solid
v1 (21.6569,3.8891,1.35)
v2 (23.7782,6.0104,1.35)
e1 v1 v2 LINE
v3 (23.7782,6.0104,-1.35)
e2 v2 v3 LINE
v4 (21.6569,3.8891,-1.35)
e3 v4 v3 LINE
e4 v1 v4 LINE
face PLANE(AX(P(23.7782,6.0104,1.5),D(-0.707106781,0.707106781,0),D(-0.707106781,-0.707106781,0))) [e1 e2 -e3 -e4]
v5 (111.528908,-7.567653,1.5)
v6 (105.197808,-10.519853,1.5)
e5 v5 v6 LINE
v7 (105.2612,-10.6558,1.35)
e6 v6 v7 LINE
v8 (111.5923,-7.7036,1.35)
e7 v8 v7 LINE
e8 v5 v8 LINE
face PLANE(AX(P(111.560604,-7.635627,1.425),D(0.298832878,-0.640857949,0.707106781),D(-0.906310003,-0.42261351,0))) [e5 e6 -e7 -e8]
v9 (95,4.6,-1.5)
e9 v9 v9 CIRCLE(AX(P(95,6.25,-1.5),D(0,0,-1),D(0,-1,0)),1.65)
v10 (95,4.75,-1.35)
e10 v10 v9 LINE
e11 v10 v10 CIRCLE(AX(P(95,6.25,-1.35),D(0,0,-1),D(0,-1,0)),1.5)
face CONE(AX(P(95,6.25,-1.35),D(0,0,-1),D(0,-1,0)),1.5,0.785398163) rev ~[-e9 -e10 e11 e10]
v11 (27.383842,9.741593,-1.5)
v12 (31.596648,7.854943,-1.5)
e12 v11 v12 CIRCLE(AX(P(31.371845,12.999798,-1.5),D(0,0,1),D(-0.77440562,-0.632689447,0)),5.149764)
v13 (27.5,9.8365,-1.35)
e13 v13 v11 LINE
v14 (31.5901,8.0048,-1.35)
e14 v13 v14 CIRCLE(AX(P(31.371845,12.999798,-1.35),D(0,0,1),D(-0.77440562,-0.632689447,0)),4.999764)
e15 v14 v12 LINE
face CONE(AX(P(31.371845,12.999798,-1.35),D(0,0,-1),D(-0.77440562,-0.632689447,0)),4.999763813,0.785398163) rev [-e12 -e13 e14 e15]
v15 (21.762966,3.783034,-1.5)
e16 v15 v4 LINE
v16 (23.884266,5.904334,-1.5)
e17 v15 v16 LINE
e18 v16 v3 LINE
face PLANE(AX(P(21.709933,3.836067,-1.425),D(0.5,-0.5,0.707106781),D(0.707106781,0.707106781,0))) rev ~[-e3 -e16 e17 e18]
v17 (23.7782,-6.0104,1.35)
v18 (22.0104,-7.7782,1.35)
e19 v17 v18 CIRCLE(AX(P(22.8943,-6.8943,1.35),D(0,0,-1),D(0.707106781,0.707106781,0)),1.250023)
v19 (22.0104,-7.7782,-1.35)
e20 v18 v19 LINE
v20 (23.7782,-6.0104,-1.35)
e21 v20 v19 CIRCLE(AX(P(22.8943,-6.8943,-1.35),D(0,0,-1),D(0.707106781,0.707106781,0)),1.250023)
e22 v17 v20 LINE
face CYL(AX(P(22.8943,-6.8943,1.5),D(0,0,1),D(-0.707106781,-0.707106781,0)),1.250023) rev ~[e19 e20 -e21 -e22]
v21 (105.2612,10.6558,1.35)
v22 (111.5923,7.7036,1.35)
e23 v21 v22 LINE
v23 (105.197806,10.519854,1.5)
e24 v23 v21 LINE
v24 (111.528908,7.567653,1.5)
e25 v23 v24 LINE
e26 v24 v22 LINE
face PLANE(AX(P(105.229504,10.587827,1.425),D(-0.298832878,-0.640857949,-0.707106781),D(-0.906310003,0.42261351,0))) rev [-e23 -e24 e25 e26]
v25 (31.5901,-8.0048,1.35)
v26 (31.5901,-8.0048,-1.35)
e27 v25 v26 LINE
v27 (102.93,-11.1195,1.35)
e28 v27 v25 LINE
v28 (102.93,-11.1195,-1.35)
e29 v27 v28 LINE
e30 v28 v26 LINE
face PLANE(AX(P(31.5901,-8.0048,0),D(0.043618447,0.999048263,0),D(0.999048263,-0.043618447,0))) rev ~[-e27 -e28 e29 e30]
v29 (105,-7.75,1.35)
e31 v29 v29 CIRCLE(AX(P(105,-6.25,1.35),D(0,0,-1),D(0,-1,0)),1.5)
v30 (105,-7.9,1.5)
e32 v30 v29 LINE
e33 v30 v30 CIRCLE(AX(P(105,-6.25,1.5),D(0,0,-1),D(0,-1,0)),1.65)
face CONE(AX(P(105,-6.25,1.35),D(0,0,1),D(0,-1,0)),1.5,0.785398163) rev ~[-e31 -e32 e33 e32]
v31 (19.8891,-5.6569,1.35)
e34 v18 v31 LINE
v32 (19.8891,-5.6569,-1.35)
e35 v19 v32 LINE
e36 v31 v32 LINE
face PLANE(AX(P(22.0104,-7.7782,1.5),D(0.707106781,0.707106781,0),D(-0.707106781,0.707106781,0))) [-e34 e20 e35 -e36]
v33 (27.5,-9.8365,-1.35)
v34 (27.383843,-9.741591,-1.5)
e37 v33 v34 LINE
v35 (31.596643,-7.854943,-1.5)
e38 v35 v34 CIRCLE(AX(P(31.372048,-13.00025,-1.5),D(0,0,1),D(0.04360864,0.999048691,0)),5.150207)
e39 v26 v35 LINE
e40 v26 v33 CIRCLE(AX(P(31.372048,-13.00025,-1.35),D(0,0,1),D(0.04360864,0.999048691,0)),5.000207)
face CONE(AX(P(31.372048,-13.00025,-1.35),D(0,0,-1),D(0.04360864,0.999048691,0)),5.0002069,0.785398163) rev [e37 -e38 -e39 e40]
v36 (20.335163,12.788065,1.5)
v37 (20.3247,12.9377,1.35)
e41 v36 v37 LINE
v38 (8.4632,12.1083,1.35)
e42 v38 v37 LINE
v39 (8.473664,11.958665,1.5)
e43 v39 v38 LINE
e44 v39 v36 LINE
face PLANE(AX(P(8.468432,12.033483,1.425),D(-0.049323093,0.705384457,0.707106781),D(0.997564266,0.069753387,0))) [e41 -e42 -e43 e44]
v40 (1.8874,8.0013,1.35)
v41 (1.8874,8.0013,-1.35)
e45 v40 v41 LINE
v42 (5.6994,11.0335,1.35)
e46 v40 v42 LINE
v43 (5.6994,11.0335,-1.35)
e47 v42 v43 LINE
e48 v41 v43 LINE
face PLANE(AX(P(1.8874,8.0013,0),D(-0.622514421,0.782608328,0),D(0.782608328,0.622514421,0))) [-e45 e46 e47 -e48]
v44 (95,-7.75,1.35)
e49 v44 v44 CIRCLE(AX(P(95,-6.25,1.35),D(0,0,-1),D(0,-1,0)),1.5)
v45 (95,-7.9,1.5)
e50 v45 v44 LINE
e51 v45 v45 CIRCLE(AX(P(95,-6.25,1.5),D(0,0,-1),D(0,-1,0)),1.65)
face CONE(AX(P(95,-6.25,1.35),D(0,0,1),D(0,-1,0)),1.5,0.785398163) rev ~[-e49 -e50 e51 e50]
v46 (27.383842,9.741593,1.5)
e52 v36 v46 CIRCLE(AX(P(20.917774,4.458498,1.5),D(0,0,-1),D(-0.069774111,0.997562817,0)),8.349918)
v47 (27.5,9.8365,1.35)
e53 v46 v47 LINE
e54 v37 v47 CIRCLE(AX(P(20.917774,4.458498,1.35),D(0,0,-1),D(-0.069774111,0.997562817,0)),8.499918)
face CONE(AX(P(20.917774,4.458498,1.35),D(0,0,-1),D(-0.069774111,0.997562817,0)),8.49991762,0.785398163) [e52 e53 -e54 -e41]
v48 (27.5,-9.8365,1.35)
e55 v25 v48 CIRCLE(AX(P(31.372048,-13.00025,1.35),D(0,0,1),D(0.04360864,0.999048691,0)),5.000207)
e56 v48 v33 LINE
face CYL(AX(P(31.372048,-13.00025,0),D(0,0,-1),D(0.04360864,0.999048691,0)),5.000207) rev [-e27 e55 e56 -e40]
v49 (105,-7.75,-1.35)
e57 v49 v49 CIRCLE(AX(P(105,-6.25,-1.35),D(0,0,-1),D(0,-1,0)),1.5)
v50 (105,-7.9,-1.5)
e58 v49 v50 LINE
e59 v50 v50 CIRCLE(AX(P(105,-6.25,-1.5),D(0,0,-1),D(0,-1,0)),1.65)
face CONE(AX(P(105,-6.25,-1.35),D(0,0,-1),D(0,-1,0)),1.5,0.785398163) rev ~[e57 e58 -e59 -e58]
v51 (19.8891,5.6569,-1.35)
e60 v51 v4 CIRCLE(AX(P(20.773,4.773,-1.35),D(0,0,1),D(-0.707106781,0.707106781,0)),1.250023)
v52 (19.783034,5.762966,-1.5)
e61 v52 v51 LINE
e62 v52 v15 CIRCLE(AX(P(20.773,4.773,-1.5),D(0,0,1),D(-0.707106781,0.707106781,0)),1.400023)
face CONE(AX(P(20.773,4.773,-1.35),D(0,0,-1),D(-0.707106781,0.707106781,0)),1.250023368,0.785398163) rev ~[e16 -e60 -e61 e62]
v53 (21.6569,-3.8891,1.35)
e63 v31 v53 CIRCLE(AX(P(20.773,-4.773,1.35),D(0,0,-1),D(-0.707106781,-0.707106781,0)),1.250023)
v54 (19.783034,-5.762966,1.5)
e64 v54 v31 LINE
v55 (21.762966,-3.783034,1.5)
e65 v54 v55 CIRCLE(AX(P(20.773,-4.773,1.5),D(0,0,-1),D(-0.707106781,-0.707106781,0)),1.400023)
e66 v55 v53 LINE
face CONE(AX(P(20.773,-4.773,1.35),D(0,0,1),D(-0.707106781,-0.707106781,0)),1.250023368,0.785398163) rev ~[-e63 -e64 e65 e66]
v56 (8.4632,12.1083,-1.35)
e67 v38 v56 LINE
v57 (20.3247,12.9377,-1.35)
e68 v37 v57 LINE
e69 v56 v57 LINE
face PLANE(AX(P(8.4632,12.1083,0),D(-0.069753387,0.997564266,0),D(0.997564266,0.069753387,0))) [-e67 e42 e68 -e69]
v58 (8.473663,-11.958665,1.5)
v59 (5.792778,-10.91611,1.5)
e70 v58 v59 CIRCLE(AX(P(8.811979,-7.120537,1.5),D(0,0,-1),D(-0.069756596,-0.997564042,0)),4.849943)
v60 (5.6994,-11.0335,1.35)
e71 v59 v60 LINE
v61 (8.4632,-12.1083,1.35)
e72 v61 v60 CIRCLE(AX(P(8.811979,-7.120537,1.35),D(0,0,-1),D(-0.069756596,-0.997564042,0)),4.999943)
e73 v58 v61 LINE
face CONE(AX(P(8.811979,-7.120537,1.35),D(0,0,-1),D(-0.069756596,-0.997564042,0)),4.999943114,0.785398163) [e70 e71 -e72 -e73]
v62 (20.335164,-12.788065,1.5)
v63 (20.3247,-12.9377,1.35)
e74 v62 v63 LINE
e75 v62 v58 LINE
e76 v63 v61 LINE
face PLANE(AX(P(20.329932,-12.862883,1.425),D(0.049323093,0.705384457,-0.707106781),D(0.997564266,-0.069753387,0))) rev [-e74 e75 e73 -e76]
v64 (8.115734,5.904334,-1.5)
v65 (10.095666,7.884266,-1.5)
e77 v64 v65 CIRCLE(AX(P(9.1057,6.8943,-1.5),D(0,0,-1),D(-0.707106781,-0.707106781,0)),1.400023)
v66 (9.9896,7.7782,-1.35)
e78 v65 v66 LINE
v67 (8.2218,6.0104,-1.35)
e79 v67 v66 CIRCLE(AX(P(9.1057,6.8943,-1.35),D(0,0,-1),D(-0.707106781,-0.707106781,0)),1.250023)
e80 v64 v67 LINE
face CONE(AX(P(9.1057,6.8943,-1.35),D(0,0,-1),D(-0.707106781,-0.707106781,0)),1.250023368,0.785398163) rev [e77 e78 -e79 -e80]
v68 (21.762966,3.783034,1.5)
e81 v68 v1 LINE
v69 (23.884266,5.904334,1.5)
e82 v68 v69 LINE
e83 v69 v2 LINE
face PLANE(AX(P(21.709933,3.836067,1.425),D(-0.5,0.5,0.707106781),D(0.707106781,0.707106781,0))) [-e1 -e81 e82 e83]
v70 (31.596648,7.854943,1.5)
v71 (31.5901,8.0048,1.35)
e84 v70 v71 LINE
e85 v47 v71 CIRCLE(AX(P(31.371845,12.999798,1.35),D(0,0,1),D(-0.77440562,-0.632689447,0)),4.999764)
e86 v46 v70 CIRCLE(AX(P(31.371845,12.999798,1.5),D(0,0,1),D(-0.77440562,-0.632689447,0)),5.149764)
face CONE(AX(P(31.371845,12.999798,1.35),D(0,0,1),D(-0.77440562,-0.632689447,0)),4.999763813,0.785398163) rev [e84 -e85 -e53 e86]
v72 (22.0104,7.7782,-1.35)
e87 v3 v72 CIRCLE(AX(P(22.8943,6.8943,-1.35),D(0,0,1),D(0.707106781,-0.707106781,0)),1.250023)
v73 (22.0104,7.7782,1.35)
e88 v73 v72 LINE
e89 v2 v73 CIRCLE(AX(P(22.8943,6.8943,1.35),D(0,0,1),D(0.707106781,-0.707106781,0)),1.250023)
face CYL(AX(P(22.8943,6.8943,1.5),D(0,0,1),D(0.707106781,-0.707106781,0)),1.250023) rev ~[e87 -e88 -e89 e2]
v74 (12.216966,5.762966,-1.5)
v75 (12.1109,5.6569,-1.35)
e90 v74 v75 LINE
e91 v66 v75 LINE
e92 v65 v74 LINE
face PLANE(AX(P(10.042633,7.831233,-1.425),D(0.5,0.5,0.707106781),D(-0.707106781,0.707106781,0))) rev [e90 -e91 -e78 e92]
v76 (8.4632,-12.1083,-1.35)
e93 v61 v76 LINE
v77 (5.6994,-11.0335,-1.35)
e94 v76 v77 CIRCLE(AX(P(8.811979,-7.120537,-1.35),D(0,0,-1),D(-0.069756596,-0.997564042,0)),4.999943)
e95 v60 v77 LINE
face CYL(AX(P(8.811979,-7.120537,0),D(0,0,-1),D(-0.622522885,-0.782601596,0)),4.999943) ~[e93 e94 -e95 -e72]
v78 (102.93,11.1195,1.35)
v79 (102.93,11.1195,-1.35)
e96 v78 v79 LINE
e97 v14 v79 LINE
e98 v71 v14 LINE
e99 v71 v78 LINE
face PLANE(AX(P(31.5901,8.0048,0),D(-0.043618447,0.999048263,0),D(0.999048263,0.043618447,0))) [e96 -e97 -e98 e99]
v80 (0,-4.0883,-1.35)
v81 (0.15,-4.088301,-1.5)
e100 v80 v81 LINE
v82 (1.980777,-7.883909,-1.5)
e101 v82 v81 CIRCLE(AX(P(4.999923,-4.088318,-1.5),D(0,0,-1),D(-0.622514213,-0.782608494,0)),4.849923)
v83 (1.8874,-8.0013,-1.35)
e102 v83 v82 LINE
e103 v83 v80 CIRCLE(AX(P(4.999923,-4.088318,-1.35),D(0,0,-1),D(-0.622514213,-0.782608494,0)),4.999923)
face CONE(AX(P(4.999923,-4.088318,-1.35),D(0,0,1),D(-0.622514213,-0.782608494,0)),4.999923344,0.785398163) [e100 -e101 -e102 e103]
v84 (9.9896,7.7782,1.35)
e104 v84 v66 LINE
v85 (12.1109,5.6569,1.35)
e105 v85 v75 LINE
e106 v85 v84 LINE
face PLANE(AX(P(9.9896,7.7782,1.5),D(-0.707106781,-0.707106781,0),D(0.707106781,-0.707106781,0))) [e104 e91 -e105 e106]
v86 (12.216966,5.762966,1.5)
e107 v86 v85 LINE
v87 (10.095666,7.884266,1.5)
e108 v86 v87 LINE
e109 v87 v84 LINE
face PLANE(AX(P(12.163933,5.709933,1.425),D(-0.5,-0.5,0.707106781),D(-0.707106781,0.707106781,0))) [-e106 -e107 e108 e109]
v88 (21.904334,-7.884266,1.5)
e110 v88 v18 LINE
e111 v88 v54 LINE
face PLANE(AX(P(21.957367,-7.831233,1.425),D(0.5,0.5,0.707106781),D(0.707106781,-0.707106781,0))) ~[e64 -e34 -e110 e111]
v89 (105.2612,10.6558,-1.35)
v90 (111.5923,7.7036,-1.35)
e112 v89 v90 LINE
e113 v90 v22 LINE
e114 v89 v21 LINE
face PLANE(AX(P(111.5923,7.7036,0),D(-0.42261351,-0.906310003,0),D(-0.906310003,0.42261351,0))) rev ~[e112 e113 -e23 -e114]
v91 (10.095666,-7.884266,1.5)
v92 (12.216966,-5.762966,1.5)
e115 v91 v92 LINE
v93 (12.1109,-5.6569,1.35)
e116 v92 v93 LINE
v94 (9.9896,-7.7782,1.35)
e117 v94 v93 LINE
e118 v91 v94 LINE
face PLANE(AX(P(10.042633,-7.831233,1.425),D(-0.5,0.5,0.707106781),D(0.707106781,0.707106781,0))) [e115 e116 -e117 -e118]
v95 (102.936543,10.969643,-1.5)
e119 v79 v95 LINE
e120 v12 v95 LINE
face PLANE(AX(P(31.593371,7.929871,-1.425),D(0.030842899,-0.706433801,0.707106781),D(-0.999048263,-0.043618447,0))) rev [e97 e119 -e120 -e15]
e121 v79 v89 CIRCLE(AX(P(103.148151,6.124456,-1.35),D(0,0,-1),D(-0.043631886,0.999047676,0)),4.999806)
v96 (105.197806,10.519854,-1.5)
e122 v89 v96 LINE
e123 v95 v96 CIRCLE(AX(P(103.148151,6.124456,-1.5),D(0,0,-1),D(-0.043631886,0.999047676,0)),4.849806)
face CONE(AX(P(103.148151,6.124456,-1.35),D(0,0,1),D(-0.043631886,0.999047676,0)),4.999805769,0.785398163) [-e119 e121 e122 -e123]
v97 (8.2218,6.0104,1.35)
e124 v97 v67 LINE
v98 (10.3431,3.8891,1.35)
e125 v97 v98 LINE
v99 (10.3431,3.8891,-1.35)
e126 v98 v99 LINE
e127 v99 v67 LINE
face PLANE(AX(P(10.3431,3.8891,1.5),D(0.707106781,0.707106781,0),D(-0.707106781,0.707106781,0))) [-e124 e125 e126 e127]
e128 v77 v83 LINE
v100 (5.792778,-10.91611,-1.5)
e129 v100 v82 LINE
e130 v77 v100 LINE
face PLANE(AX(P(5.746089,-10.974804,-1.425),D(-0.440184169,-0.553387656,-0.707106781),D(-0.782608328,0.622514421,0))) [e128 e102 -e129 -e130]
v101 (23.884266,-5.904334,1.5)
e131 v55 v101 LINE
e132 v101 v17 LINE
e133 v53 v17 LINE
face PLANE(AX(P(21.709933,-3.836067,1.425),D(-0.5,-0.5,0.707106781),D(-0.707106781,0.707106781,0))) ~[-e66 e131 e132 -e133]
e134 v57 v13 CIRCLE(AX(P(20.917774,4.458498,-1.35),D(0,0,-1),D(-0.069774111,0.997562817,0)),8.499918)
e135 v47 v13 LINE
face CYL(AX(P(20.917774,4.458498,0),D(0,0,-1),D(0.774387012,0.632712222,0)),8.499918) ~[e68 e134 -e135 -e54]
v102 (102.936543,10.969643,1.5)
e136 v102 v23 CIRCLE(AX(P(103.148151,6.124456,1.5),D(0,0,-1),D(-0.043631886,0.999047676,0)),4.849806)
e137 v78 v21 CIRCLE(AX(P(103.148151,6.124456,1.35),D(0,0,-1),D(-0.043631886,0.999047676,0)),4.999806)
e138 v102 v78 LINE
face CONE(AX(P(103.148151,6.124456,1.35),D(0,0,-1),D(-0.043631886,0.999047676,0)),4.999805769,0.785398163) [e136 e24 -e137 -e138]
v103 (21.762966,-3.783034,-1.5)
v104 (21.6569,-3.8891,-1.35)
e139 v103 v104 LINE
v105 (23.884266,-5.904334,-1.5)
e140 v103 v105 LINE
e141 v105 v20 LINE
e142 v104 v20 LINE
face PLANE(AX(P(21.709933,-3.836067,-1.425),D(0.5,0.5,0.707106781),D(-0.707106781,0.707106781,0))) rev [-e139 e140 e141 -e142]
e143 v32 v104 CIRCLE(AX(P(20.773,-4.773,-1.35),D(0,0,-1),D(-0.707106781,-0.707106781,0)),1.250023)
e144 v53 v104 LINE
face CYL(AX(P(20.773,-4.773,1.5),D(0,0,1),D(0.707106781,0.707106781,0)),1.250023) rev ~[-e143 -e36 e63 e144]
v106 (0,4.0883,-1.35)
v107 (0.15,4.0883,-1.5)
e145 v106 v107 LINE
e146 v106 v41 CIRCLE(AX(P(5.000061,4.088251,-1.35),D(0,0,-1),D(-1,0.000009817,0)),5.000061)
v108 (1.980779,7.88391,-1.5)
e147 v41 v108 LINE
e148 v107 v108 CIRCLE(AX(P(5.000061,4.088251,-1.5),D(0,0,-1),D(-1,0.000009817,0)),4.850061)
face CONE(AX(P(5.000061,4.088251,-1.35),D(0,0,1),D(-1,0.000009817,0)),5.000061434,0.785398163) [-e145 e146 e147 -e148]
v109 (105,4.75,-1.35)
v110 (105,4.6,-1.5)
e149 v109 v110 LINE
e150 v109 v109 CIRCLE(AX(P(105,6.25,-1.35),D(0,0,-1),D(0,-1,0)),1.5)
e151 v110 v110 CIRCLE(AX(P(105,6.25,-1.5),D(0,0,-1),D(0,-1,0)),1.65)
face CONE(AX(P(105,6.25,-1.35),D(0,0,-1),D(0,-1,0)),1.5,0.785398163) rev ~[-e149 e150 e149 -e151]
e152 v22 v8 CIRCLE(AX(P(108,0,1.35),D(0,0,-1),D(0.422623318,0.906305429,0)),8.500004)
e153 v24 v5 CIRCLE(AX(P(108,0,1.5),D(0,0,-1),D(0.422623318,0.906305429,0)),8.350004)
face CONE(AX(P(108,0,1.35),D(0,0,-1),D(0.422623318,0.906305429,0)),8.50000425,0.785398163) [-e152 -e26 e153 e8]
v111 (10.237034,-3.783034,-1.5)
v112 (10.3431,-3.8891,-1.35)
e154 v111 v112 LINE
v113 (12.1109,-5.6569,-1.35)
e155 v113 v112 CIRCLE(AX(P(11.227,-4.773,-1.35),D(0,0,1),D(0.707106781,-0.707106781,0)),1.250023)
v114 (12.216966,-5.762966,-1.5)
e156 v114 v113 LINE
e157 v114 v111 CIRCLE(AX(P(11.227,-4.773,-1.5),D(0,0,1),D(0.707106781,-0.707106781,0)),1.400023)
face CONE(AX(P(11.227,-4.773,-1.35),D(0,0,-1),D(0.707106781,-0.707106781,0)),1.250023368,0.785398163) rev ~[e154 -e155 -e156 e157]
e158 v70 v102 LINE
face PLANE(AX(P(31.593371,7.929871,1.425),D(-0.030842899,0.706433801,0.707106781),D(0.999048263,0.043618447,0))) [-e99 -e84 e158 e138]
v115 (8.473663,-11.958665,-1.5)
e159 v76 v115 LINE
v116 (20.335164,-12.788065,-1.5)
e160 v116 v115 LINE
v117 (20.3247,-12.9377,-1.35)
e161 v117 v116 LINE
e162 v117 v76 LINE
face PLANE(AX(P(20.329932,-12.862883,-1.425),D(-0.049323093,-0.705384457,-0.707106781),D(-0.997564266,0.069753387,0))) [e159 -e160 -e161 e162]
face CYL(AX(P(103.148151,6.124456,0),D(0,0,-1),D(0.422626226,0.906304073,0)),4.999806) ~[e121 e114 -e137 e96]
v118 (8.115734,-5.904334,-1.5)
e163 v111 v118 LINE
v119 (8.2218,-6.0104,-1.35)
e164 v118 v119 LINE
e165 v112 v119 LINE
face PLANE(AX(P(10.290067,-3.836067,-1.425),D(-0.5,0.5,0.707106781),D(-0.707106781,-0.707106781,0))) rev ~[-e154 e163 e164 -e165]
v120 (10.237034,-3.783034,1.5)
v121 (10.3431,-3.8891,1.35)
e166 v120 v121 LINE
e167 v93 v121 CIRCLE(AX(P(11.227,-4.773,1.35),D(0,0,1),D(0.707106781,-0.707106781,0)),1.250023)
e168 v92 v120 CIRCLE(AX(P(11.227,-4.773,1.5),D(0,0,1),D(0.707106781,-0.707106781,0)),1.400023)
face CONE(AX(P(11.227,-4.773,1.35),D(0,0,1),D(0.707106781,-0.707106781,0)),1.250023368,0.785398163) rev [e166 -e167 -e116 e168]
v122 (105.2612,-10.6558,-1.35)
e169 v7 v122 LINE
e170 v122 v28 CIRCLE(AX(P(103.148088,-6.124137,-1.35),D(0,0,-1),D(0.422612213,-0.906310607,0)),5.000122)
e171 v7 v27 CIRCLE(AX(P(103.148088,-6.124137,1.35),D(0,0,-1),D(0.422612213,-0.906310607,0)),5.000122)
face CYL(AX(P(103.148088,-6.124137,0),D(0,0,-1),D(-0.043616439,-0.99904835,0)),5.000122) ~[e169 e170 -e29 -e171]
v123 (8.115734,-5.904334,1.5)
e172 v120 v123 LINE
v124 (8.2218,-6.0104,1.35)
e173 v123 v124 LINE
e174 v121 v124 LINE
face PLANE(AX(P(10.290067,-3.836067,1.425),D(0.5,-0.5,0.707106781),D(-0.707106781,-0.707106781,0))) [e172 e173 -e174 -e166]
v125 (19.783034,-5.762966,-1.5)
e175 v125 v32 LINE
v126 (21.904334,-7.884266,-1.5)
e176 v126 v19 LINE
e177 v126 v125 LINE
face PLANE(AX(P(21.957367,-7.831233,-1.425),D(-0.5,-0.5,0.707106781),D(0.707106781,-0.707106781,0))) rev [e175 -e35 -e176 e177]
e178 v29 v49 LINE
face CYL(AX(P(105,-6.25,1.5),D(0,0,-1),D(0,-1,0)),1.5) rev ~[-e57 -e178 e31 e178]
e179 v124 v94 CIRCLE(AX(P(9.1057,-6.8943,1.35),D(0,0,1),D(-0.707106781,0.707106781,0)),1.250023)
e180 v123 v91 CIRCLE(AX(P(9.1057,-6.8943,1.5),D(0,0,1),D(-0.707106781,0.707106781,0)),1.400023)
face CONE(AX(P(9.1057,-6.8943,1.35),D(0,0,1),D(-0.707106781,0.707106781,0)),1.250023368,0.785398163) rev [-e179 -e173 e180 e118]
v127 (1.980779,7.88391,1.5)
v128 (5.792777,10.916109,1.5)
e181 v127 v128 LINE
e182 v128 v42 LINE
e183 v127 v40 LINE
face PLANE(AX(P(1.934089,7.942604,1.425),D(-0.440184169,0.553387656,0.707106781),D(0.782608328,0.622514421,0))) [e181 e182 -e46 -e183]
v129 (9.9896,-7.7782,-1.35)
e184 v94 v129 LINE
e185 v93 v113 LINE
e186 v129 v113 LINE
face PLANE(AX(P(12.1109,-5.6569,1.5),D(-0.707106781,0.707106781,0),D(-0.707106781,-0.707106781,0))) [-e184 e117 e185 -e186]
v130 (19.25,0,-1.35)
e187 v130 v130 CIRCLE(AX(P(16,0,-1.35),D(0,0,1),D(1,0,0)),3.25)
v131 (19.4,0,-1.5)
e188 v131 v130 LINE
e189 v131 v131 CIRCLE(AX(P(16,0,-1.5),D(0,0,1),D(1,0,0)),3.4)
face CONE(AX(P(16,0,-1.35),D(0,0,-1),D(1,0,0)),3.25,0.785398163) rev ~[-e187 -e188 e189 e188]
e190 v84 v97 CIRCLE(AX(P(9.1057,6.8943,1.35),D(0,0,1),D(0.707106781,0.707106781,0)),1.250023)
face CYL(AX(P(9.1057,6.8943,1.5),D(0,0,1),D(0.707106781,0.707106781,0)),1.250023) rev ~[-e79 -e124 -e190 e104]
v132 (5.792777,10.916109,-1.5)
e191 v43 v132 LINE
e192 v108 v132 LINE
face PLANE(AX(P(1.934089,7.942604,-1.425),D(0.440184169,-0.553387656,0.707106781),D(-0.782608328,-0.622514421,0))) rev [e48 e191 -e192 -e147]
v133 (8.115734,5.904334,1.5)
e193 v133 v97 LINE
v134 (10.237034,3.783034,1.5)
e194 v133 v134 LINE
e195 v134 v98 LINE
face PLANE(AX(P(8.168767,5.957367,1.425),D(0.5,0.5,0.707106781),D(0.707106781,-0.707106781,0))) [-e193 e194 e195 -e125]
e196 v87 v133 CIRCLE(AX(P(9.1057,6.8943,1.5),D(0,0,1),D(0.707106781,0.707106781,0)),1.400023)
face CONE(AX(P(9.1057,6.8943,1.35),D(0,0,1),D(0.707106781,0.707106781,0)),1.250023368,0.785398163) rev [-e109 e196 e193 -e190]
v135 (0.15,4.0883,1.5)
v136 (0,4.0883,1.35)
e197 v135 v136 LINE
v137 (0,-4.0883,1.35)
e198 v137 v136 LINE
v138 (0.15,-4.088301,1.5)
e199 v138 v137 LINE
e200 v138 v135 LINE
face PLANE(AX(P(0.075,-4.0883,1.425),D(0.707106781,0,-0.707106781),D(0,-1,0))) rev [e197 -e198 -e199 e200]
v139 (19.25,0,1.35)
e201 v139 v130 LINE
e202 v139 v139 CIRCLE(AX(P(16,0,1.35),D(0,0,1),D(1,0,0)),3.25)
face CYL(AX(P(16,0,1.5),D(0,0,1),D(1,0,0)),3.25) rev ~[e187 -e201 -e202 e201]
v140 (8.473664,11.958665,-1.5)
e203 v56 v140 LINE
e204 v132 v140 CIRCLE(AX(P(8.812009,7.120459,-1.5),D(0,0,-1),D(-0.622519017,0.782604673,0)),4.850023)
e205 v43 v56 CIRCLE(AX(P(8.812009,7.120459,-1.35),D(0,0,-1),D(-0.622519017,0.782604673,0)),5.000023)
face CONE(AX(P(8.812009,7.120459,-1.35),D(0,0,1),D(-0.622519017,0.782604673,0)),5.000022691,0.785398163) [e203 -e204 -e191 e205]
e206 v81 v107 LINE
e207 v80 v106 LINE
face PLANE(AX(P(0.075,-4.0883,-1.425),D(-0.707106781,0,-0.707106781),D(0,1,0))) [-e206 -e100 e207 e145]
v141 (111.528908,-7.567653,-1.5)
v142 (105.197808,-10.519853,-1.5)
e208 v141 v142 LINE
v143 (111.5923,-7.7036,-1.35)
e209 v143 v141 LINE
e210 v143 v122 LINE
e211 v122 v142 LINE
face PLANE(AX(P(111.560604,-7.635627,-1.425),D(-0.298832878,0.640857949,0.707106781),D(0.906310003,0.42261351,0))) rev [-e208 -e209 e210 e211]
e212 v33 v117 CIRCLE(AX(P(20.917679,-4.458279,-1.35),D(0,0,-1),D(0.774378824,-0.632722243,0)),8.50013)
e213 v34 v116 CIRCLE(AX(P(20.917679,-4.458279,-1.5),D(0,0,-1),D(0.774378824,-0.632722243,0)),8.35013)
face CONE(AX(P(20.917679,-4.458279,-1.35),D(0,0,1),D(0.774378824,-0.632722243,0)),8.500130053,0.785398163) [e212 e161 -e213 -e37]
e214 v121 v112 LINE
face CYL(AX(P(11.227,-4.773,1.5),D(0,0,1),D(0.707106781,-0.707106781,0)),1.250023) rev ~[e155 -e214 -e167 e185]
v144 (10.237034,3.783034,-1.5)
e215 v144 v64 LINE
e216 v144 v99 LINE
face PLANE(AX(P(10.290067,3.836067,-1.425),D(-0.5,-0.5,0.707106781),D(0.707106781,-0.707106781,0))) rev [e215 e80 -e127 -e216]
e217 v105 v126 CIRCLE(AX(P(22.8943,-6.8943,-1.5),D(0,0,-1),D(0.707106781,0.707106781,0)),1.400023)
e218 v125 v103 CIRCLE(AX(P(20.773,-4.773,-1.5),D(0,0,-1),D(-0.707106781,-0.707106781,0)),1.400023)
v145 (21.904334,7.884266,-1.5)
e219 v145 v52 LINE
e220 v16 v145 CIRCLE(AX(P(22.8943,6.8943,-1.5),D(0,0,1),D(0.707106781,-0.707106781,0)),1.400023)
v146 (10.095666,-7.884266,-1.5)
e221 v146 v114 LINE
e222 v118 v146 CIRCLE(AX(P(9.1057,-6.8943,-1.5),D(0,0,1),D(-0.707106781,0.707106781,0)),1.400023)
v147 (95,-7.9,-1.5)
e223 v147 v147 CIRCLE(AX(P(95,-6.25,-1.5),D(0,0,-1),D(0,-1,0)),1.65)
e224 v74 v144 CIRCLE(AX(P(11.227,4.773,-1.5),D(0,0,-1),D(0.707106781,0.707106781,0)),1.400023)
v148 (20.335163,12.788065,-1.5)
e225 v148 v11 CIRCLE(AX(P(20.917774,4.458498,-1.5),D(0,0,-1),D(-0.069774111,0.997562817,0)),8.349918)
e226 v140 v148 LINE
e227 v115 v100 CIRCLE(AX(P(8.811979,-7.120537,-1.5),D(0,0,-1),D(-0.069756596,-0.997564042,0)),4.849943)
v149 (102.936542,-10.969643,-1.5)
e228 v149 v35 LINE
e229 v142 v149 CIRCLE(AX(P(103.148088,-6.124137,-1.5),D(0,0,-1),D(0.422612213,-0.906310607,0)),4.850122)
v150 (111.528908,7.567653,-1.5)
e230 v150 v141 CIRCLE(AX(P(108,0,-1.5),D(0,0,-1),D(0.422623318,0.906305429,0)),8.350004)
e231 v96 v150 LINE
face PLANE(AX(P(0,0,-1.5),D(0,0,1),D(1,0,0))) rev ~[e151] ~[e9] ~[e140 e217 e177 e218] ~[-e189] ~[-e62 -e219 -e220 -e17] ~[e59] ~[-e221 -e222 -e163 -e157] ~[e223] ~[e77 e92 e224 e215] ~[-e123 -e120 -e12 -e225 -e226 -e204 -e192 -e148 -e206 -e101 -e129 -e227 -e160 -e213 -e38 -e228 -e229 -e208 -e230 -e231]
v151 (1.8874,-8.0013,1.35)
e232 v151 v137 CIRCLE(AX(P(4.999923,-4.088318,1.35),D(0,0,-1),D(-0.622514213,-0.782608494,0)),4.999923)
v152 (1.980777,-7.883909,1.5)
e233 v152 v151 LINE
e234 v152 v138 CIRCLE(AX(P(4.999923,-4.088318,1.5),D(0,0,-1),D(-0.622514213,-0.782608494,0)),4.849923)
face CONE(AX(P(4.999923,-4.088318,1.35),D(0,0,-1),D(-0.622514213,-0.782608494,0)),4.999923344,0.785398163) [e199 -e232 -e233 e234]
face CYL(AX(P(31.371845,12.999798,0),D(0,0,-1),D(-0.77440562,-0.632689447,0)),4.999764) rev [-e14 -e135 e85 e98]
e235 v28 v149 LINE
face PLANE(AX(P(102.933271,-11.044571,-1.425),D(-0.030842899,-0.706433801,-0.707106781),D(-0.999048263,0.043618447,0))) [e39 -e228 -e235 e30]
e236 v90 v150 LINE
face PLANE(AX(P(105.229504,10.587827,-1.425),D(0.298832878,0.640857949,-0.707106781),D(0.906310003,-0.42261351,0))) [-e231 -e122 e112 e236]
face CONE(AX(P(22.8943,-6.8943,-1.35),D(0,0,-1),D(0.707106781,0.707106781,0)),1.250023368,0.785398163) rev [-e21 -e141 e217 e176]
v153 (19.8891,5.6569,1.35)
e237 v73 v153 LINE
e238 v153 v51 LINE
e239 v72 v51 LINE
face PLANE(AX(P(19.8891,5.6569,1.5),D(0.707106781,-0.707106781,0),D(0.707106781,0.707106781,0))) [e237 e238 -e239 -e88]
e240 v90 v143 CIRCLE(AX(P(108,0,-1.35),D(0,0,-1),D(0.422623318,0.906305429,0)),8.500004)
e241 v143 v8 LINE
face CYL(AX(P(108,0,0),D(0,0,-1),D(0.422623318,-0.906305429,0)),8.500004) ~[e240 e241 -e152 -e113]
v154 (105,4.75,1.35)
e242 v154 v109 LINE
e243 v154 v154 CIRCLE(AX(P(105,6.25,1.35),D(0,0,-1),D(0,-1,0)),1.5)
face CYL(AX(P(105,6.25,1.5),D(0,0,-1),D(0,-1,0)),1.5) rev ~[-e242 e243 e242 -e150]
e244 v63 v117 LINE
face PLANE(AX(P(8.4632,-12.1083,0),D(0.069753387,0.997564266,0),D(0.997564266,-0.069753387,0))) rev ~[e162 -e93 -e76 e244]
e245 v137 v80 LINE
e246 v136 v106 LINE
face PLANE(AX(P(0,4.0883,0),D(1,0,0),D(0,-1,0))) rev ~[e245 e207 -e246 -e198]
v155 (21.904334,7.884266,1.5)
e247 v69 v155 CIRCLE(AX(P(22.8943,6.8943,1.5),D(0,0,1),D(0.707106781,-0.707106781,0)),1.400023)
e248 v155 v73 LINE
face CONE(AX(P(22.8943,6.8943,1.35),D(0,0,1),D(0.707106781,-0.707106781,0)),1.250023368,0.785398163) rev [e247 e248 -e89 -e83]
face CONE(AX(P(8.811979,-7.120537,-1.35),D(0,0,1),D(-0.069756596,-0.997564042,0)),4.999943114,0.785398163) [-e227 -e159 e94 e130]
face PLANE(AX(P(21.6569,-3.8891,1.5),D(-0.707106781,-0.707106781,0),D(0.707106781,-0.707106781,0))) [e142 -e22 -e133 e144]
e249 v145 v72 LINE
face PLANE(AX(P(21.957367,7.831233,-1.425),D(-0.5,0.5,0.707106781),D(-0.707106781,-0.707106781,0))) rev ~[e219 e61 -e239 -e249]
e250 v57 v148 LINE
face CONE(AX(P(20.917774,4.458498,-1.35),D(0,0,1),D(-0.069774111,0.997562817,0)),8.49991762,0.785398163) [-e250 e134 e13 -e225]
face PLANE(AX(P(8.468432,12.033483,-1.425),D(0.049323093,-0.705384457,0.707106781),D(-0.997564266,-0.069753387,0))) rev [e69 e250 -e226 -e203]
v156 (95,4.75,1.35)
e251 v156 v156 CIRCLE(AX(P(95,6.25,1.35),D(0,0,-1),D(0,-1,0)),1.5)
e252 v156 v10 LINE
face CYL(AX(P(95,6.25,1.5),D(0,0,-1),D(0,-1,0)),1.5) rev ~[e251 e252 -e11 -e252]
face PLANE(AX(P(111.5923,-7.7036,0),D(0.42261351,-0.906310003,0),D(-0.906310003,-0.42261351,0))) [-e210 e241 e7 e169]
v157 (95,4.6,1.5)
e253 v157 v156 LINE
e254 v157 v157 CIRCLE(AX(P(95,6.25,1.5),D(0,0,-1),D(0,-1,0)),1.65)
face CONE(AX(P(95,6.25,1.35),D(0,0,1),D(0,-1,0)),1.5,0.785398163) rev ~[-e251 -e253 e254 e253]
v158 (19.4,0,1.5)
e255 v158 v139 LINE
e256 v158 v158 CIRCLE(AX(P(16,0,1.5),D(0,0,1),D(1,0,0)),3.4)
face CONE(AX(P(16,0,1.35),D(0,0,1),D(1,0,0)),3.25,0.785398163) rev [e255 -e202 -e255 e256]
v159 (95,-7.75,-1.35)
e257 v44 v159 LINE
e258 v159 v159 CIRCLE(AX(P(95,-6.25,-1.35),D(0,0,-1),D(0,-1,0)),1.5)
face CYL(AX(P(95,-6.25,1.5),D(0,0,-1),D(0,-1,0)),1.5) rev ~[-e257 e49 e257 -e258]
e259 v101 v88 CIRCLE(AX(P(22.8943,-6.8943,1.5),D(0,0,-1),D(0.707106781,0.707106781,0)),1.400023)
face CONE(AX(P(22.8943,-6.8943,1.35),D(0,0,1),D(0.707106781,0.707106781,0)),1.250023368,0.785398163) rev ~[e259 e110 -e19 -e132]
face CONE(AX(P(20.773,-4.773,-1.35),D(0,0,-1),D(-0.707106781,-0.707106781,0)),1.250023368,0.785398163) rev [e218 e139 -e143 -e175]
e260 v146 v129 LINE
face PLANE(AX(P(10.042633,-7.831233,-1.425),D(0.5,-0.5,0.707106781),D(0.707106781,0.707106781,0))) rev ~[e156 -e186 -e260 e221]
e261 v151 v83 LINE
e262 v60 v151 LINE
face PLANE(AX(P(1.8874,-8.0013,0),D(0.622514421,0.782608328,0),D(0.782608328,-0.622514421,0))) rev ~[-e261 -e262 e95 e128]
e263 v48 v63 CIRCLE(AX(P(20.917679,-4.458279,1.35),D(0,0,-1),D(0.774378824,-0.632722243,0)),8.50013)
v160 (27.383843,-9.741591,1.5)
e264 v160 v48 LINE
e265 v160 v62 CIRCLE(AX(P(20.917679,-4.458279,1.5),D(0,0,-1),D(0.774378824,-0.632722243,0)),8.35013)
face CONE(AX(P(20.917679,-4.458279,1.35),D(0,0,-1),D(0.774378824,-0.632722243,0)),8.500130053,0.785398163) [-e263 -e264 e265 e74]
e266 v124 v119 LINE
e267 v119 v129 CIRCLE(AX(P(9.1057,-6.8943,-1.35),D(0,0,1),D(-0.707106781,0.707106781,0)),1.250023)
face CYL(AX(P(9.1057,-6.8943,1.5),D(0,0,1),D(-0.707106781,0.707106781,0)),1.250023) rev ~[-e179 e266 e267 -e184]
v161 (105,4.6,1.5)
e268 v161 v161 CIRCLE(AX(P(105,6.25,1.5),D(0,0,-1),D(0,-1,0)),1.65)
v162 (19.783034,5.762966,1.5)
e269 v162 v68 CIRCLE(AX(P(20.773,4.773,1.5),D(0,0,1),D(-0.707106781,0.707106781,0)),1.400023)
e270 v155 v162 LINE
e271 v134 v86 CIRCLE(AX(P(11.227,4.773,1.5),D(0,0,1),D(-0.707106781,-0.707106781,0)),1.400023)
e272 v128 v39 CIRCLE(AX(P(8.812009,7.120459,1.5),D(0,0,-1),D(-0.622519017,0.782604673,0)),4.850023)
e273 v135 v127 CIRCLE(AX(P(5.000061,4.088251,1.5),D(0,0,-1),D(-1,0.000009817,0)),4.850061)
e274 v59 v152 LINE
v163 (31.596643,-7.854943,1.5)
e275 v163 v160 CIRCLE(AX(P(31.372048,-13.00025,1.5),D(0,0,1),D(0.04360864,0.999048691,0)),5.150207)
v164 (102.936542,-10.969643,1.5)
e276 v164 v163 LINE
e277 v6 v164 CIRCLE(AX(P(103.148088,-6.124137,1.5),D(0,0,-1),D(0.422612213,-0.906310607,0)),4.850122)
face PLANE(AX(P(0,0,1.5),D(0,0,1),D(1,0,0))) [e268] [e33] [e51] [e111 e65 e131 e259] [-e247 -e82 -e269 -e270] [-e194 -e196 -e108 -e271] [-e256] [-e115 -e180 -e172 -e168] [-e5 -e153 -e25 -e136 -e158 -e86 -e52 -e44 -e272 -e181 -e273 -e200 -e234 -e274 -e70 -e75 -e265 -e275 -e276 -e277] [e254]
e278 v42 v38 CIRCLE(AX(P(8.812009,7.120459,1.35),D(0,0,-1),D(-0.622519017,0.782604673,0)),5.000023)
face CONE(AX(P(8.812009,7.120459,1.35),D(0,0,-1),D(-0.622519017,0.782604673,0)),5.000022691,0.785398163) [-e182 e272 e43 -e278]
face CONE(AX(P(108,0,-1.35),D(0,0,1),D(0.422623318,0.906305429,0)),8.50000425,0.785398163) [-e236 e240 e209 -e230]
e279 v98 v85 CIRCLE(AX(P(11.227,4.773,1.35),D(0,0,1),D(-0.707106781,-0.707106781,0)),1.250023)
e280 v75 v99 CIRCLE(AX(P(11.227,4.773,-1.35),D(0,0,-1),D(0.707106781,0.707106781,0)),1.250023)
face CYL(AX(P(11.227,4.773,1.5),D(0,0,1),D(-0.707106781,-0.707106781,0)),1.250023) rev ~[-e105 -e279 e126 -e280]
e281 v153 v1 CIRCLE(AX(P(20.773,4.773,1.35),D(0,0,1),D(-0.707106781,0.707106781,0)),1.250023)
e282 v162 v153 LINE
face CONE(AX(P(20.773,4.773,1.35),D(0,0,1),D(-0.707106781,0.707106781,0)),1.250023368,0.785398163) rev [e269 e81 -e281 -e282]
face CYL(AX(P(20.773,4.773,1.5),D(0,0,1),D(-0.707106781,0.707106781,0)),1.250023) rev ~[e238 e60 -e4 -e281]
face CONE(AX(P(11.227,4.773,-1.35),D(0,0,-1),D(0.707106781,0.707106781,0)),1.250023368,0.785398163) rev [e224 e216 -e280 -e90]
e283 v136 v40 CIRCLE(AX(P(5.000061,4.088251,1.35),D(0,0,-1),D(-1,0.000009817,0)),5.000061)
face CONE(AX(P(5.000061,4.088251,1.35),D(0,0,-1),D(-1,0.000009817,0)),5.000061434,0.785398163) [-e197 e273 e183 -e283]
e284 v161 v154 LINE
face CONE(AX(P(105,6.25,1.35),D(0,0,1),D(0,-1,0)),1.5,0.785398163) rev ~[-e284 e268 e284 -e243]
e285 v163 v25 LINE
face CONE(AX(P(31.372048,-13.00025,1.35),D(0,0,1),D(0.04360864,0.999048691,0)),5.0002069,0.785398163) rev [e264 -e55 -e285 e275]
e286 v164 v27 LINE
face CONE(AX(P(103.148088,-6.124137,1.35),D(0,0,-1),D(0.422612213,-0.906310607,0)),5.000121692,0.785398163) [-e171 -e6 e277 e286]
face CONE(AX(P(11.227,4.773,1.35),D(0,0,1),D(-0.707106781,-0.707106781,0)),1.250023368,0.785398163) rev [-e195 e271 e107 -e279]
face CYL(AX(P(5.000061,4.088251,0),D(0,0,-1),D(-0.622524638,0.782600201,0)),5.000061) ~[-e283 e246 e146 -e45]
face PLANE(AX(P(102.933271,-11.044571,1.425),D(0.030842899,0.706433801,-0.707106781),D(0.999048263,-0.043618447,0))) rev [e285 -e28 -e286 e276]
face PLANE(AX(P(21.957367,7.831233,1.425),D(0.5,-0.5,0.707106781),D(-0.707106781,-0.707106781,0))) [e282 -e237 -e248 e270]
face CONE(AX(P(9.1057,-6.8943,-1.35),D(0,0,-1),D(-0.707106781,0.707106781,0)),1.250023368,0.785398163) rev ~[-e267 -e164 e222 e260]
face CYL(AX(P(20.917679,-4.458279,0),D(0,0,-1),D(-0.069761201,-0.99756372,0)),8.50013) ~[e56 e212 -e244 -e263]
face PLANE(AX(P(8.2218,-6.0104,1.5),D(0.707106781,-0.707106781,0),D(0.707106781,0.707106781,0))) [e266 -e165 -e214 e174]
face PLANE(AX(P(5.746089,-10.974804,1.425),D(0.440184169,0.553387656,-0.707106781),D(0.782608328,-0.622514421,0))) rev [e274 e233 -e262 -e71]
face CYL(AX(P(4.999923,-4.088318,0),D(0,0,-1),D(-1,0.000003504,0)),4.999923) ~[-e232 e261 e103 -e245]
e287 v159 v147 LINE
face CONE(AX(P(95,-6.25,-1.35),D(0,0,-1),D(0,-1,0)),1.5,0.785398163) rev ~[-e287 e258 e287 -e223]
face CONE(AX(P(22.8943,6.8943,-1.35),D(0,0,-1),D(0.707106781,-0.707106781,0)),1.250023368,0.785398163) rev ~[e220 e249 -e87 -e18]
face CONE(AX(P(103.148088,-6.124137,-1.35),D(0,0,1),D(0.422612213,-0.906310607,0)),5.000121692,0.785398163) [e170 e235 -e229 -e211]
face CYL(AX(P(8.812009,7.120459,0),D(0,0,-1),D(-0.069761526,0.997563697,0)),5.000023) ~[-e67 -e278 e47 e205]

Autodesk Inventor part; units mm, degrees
ref_plane "YZ Plane" through (0, 0, 0) normal (1, 0, 0) x (0, 1, 0)
ref_plane "XZ Plane" through (0, 0, 0) normal (0, 1, 0) x (-1, 0, 0)
ref_plane "XY Plane" through (0, 0, 0) normal (0, 0, 1) x (1, 0, 0)
sketch "Sketch1" plane through (0, 0, 0) normal (0, 0, 1) x (1, 0, 0)
  line L0 (0, 0) -> (108, 0) construction
  arc A0 (111.5923, -7.7036) -> (111.5923, 7.7036) centre (108, 0) ccw
  line L1 (111.5923, 7.7036) -> (105.2612, 10.6558)
  line L2 (0, 4.0883) -> (0, -4.0883)
  line L3 (1.8874, 8.0013) -> (5.6994, 11.0335)
  line L4 (8.4632, 12.1083) -> (20.3247, 12.9377)
  line L5 (1.8874, -8.0013) -> (5.6994, -11.0335)
  line L6 (8.4632, -12.1083) -> (20.3247, -12.9377)
  arc A1 (27.5, 9.8365) -> (20.3247, 12.9377) centre (20.9177, 4.4584) ccw
  arc A2 (27.5, 9.8365) -> (31.5901, 8.0048) centre (31.372, 13) ccw
  line L7 (31.5901, 8.0048) -> (102.93, 11.1195)
  arc A3 (105.2612, 10.6558) -> (102.93, 11.1195) centre (103.1481, 6.1243) ccw
  line L8 (111.5923, -7.7036) -> (105.2612, -10.6558)
  arc A4 (20.3247, -12.9377) -> (27.5, -9.8365) centre (20.9177, -4.4584) ccw
  arc A5 (31.5901, -8.0048) -> (27.5, -9.8365) centre (31.372, -13) ccw
  line L9 (31.5901, -8.0048) -> (102.93, -11.1195)
  arc A6 (102.93, -11.1195) -> (105.2612, -10.6558) centre (103.1481, -6.1243) ccw
  arc A7 (5.6994, -11.0335) -> (8.4632, -12.1083) centre (8.812, -7.1205) ccw
  arc A8 (0, -4.0883) -> (1.8874, -8.0013) centre (5, -4.0883) ccw
  arc A9 (1.8874, 8.0013) -> (0, 4.0883) centre (5, 4.0883) ccw
  arc A10 (8.4632, 12.1083) -> (5.6994, 11.0335) centre (8.812, 7.1205) ccw
  line L10 (1.8858, 8) -> (31.372, 8) construction
  point P0 (0, 6.5)
  point P1 (0, -6.5)
  point P2 (6.9144, 12)
  point P3 (6.9144, -12)
  dimension "d0" = 13
  dimension "d1" = 77
  dimension "d2" = 8
  dimension "d3" = 8.5
  dimension "d4" = 5
  dimension "d5" = 5
  dimension "d6" = 27.5
  dimension "d7" = 24
  dimension "d8" = 5
  dimension "d9" = 108
  dimension "d10" = 8.5
  dimension "d11" = 50
  dimension "d12" = 5
  dimension "d13" = 8
extrude "Extrusion1" add sketch "Sketch1" along normal mid plane 3
sketch "Sketch2" plane through (0, 0, 1.5) normal (0, 0, 1) x (1, 0, 0)
  arc A0 (111.5923, -7.7036) -> (111.5923, 7.7036) centre (108, 0) ccw construction
  line L0 (0, -4.0883) -> (0, 4.0883) construction
  line L1 (108, 0) -> (0, 0) construction
  line L2 (95, 6.25) -> (105, 6.25)
  line L3 (105, 6.25) -> (105, -6.25)
  line L4 (105, -6.25) -> (95, -6.25)
  line L5 (95, -6.25) -> (95, 6.25)
  dimension "d16" = 12.5
  dimension "d17" = 10
  dimension "d18" = 95
hole "Hole1" at (95, 6.25, 1.5) at (105, 6.25, 1.5) at (105, -6.25, 1.5) at (95, -6.25, 1.5) direction (0, 0, -1) diameter 3 end through all
sketch "Sketch3" plane through (0, 0, 1.5) normal (0, 0, 1) x (1, 0, 0)
  arc A0 (111.5923, -7.7036) -> (111.5923, 7.7036) centre (108, 0) ccw construction
  line L0 (0, -4.0883) -> (0, 4.0883) construction
  line L1 (0, 0) -> (108, 0) construction
  circle A1 centre (16, 0) radius 3.25
  line L2 (20.773, 4.773) -> (22.8943, 6.8943) construction
  circle A2 centre (16, 0) radius 9.75 construction
  circle A3 centre (16, 0) radius 6.75 construction
  arc A4 (23.7782, 6.0104) -> (22.0104, 7.7782) centre (22.8943, 6.8943) ccw
  arc A5 (19.8891, 5.6569) -> (21.6569, 3.8891) centre (20.773, 4.773) ccw
  line L3 (19.8891, 5.6569) -> (22.0104, 7.7782)
  line L4 (23.7782, 6.0104) -> (21.6569, 3.8891)
  arc A6 (9.9896, 7.7782) -> (8.2218, 6.0104) centre (9.1057, 6.8943) ccw
  arc A7 (10.3431, 3.8891) -> (12.1109, 5.6569) centre (11.227, 4.773) ccw
  line L5 (10.3431, 3.8891) -> (8.2218, 6.0104)
  line L6 (9.9896, 7.7782) -> (12.1109, 5.6569)
  arc A8 (8.2218, -6.0104) -> (9.9896, -7.7782) centre (9.1057, -6.8943) ccw
  arc A9 (12.1109, -5.6569) -> (10.3431, -3.8891) centre (11.227, -4.773) ccw
  line L7 (12.1109, -5.6569) -> (9.9896, -7.7782)
  line L8 (8.2218, -6.0104) -> (10.3431, -3.8891)
  arc A10 (22.0104, -7.7782) -> (23.7782, -6.0104) centre (22.8943, -6.8943) ccw
  arc A11 (21.6569, -3.8891) -> (19.8891, -5.6569) centre (20.773, -4.773) ccw
  line L9 (21.6569, -3.8891) -> (23.7782, -6.0104)
  line L10 (22.0104, -7.7782) -> (19.8891, -5.6569)
  dimension "d29" = 19.5
  dimension "d30" = 13.5
  dimension "d26" = 6.5
  dimension "d27" = 16
  dimension "d28" = 45
  dimension "d31" = 1.25
  dimension "d34" = 360
extrude "Extrusion2" cut sketch "Sketch3" against normal through all
chamfer "Chamfer1" distance 0.15 angle 45 34 edges at (19.8891, 3.8891, 1.5) (20.9497, 6.7175, 1.5) (23.7782, 7.7782, 1.5) (22.7175, 4.9497, 1.5) (12.75, 0, 1.5) (12.75, 0, -1.5) (22.7175, -4.9497, 1.5) (23.7782, -7.7782, 1.5) (20.9497, -6.7175, 1.5) (19.8891, -3.8891, 1.5) (22.7175, -4.9497, -1.5) (19.8891, -3.8891, -1.5) (20.9497, -6.7175, -1.5) (23.7782, -7.7782, -1.5) (8.2218, -7.7782, 1.5) (9.2825, -4.9497, 1.5) (12.1109, -3.8891, 1.5) (11.0503, -6.7175, 1.5) (12.1109, -3.8891, -1.5) (9.2825, -4.9497, -1.5) (8.2218, -7.7782, -1.5) (11.0503, -6.7175, -1.5) (9.2825, 4.9497, -1.5) (12.1109, 3.8891, -1.5) (11.0503, 6.7175, -1.5) (8.2218, 7.7782, -1.5) (12.1109, 3.8891, 1.5) (9.2825, 4.9497, 1.5) (8.2218, 7.7782, 1.5) (11.0503, 6.7175, 1.5) (23.7782, 7.7782, -1.5) (20.9497, 6.7175, -1.5) (19.8891, 3.8891, -1.5) (22.7175, 4.9497, -1.5)
chamfer "Chamfer2" distance 0.15 angle 45 8 edges at (95, -4.75, 1.5) (105, -4.75, 1.5) (95, 7.75, 1.5) (105, 7.75, 1.5) (95, -4.75, -1.5) (105, -4.75, -1.5) (95, 7.75, -1.5) (105, 7.75, -1.5)
chamfer "Chamfer3" distance 0.15 angle 45 40 edges at (108.4267, -9.1797, 1.5) (104.1236, -11.0282, 1.5) (67.26, -9.5621, 1.5) (29.3283, -8.4367, 1.5) (24.29, -12.2608, 1.5) (14.394, -12.523, 1.5) (6.9998, -11.7805, 1.5) (3.7934, -9.5174, 1.5) (0.4965, -6.2605, 1.5) (0, 0, 1.5) (0.4965, 6.2605, 1.5) (3.7934, 9.5174, 1.5) (6.9998, 11.7805, 1.5) (14.394, 12.523, 1.5) (24.29, 12.2608, 1.5) (29.3283, 8.4367, 1.5) (67.26, 9.5621, 1.5) (104.1236, 11.0282, 1.5) (108.4267, 9.1797, 1.5) (116.5, 0, 1.5) (108.4267, -9.1797, -1.5) (116.5, 0, -1.5) (108.4267, 9.1797, -1.5) (104.1236, 11.0282, -1.5) (67.26, 9.5621, -1.5) (29.3283, 8.4367, -1.5) (24.29, 12.2608, -1.5) (14.394, 12.523, -1.5) (6.9998, 11.7805, -1.5) (3.7934, 9.5174, -1.5) (0.4965, 6.2605, -1.5) (0, 0, -1.5) (0.4965, -6.2605, -1.5) (3.7934, -9.5174, -1.5) (6.9998, -11.7805, -1.5) (14.394, -12.523, -1.5) (24.29, -12.2608, -1.5) (29.3283, -8.4367, -1.5) (67.26, -9.5621, -1.5) (104.1236, -11.0282, -1.5)
properties part number "Arm"
